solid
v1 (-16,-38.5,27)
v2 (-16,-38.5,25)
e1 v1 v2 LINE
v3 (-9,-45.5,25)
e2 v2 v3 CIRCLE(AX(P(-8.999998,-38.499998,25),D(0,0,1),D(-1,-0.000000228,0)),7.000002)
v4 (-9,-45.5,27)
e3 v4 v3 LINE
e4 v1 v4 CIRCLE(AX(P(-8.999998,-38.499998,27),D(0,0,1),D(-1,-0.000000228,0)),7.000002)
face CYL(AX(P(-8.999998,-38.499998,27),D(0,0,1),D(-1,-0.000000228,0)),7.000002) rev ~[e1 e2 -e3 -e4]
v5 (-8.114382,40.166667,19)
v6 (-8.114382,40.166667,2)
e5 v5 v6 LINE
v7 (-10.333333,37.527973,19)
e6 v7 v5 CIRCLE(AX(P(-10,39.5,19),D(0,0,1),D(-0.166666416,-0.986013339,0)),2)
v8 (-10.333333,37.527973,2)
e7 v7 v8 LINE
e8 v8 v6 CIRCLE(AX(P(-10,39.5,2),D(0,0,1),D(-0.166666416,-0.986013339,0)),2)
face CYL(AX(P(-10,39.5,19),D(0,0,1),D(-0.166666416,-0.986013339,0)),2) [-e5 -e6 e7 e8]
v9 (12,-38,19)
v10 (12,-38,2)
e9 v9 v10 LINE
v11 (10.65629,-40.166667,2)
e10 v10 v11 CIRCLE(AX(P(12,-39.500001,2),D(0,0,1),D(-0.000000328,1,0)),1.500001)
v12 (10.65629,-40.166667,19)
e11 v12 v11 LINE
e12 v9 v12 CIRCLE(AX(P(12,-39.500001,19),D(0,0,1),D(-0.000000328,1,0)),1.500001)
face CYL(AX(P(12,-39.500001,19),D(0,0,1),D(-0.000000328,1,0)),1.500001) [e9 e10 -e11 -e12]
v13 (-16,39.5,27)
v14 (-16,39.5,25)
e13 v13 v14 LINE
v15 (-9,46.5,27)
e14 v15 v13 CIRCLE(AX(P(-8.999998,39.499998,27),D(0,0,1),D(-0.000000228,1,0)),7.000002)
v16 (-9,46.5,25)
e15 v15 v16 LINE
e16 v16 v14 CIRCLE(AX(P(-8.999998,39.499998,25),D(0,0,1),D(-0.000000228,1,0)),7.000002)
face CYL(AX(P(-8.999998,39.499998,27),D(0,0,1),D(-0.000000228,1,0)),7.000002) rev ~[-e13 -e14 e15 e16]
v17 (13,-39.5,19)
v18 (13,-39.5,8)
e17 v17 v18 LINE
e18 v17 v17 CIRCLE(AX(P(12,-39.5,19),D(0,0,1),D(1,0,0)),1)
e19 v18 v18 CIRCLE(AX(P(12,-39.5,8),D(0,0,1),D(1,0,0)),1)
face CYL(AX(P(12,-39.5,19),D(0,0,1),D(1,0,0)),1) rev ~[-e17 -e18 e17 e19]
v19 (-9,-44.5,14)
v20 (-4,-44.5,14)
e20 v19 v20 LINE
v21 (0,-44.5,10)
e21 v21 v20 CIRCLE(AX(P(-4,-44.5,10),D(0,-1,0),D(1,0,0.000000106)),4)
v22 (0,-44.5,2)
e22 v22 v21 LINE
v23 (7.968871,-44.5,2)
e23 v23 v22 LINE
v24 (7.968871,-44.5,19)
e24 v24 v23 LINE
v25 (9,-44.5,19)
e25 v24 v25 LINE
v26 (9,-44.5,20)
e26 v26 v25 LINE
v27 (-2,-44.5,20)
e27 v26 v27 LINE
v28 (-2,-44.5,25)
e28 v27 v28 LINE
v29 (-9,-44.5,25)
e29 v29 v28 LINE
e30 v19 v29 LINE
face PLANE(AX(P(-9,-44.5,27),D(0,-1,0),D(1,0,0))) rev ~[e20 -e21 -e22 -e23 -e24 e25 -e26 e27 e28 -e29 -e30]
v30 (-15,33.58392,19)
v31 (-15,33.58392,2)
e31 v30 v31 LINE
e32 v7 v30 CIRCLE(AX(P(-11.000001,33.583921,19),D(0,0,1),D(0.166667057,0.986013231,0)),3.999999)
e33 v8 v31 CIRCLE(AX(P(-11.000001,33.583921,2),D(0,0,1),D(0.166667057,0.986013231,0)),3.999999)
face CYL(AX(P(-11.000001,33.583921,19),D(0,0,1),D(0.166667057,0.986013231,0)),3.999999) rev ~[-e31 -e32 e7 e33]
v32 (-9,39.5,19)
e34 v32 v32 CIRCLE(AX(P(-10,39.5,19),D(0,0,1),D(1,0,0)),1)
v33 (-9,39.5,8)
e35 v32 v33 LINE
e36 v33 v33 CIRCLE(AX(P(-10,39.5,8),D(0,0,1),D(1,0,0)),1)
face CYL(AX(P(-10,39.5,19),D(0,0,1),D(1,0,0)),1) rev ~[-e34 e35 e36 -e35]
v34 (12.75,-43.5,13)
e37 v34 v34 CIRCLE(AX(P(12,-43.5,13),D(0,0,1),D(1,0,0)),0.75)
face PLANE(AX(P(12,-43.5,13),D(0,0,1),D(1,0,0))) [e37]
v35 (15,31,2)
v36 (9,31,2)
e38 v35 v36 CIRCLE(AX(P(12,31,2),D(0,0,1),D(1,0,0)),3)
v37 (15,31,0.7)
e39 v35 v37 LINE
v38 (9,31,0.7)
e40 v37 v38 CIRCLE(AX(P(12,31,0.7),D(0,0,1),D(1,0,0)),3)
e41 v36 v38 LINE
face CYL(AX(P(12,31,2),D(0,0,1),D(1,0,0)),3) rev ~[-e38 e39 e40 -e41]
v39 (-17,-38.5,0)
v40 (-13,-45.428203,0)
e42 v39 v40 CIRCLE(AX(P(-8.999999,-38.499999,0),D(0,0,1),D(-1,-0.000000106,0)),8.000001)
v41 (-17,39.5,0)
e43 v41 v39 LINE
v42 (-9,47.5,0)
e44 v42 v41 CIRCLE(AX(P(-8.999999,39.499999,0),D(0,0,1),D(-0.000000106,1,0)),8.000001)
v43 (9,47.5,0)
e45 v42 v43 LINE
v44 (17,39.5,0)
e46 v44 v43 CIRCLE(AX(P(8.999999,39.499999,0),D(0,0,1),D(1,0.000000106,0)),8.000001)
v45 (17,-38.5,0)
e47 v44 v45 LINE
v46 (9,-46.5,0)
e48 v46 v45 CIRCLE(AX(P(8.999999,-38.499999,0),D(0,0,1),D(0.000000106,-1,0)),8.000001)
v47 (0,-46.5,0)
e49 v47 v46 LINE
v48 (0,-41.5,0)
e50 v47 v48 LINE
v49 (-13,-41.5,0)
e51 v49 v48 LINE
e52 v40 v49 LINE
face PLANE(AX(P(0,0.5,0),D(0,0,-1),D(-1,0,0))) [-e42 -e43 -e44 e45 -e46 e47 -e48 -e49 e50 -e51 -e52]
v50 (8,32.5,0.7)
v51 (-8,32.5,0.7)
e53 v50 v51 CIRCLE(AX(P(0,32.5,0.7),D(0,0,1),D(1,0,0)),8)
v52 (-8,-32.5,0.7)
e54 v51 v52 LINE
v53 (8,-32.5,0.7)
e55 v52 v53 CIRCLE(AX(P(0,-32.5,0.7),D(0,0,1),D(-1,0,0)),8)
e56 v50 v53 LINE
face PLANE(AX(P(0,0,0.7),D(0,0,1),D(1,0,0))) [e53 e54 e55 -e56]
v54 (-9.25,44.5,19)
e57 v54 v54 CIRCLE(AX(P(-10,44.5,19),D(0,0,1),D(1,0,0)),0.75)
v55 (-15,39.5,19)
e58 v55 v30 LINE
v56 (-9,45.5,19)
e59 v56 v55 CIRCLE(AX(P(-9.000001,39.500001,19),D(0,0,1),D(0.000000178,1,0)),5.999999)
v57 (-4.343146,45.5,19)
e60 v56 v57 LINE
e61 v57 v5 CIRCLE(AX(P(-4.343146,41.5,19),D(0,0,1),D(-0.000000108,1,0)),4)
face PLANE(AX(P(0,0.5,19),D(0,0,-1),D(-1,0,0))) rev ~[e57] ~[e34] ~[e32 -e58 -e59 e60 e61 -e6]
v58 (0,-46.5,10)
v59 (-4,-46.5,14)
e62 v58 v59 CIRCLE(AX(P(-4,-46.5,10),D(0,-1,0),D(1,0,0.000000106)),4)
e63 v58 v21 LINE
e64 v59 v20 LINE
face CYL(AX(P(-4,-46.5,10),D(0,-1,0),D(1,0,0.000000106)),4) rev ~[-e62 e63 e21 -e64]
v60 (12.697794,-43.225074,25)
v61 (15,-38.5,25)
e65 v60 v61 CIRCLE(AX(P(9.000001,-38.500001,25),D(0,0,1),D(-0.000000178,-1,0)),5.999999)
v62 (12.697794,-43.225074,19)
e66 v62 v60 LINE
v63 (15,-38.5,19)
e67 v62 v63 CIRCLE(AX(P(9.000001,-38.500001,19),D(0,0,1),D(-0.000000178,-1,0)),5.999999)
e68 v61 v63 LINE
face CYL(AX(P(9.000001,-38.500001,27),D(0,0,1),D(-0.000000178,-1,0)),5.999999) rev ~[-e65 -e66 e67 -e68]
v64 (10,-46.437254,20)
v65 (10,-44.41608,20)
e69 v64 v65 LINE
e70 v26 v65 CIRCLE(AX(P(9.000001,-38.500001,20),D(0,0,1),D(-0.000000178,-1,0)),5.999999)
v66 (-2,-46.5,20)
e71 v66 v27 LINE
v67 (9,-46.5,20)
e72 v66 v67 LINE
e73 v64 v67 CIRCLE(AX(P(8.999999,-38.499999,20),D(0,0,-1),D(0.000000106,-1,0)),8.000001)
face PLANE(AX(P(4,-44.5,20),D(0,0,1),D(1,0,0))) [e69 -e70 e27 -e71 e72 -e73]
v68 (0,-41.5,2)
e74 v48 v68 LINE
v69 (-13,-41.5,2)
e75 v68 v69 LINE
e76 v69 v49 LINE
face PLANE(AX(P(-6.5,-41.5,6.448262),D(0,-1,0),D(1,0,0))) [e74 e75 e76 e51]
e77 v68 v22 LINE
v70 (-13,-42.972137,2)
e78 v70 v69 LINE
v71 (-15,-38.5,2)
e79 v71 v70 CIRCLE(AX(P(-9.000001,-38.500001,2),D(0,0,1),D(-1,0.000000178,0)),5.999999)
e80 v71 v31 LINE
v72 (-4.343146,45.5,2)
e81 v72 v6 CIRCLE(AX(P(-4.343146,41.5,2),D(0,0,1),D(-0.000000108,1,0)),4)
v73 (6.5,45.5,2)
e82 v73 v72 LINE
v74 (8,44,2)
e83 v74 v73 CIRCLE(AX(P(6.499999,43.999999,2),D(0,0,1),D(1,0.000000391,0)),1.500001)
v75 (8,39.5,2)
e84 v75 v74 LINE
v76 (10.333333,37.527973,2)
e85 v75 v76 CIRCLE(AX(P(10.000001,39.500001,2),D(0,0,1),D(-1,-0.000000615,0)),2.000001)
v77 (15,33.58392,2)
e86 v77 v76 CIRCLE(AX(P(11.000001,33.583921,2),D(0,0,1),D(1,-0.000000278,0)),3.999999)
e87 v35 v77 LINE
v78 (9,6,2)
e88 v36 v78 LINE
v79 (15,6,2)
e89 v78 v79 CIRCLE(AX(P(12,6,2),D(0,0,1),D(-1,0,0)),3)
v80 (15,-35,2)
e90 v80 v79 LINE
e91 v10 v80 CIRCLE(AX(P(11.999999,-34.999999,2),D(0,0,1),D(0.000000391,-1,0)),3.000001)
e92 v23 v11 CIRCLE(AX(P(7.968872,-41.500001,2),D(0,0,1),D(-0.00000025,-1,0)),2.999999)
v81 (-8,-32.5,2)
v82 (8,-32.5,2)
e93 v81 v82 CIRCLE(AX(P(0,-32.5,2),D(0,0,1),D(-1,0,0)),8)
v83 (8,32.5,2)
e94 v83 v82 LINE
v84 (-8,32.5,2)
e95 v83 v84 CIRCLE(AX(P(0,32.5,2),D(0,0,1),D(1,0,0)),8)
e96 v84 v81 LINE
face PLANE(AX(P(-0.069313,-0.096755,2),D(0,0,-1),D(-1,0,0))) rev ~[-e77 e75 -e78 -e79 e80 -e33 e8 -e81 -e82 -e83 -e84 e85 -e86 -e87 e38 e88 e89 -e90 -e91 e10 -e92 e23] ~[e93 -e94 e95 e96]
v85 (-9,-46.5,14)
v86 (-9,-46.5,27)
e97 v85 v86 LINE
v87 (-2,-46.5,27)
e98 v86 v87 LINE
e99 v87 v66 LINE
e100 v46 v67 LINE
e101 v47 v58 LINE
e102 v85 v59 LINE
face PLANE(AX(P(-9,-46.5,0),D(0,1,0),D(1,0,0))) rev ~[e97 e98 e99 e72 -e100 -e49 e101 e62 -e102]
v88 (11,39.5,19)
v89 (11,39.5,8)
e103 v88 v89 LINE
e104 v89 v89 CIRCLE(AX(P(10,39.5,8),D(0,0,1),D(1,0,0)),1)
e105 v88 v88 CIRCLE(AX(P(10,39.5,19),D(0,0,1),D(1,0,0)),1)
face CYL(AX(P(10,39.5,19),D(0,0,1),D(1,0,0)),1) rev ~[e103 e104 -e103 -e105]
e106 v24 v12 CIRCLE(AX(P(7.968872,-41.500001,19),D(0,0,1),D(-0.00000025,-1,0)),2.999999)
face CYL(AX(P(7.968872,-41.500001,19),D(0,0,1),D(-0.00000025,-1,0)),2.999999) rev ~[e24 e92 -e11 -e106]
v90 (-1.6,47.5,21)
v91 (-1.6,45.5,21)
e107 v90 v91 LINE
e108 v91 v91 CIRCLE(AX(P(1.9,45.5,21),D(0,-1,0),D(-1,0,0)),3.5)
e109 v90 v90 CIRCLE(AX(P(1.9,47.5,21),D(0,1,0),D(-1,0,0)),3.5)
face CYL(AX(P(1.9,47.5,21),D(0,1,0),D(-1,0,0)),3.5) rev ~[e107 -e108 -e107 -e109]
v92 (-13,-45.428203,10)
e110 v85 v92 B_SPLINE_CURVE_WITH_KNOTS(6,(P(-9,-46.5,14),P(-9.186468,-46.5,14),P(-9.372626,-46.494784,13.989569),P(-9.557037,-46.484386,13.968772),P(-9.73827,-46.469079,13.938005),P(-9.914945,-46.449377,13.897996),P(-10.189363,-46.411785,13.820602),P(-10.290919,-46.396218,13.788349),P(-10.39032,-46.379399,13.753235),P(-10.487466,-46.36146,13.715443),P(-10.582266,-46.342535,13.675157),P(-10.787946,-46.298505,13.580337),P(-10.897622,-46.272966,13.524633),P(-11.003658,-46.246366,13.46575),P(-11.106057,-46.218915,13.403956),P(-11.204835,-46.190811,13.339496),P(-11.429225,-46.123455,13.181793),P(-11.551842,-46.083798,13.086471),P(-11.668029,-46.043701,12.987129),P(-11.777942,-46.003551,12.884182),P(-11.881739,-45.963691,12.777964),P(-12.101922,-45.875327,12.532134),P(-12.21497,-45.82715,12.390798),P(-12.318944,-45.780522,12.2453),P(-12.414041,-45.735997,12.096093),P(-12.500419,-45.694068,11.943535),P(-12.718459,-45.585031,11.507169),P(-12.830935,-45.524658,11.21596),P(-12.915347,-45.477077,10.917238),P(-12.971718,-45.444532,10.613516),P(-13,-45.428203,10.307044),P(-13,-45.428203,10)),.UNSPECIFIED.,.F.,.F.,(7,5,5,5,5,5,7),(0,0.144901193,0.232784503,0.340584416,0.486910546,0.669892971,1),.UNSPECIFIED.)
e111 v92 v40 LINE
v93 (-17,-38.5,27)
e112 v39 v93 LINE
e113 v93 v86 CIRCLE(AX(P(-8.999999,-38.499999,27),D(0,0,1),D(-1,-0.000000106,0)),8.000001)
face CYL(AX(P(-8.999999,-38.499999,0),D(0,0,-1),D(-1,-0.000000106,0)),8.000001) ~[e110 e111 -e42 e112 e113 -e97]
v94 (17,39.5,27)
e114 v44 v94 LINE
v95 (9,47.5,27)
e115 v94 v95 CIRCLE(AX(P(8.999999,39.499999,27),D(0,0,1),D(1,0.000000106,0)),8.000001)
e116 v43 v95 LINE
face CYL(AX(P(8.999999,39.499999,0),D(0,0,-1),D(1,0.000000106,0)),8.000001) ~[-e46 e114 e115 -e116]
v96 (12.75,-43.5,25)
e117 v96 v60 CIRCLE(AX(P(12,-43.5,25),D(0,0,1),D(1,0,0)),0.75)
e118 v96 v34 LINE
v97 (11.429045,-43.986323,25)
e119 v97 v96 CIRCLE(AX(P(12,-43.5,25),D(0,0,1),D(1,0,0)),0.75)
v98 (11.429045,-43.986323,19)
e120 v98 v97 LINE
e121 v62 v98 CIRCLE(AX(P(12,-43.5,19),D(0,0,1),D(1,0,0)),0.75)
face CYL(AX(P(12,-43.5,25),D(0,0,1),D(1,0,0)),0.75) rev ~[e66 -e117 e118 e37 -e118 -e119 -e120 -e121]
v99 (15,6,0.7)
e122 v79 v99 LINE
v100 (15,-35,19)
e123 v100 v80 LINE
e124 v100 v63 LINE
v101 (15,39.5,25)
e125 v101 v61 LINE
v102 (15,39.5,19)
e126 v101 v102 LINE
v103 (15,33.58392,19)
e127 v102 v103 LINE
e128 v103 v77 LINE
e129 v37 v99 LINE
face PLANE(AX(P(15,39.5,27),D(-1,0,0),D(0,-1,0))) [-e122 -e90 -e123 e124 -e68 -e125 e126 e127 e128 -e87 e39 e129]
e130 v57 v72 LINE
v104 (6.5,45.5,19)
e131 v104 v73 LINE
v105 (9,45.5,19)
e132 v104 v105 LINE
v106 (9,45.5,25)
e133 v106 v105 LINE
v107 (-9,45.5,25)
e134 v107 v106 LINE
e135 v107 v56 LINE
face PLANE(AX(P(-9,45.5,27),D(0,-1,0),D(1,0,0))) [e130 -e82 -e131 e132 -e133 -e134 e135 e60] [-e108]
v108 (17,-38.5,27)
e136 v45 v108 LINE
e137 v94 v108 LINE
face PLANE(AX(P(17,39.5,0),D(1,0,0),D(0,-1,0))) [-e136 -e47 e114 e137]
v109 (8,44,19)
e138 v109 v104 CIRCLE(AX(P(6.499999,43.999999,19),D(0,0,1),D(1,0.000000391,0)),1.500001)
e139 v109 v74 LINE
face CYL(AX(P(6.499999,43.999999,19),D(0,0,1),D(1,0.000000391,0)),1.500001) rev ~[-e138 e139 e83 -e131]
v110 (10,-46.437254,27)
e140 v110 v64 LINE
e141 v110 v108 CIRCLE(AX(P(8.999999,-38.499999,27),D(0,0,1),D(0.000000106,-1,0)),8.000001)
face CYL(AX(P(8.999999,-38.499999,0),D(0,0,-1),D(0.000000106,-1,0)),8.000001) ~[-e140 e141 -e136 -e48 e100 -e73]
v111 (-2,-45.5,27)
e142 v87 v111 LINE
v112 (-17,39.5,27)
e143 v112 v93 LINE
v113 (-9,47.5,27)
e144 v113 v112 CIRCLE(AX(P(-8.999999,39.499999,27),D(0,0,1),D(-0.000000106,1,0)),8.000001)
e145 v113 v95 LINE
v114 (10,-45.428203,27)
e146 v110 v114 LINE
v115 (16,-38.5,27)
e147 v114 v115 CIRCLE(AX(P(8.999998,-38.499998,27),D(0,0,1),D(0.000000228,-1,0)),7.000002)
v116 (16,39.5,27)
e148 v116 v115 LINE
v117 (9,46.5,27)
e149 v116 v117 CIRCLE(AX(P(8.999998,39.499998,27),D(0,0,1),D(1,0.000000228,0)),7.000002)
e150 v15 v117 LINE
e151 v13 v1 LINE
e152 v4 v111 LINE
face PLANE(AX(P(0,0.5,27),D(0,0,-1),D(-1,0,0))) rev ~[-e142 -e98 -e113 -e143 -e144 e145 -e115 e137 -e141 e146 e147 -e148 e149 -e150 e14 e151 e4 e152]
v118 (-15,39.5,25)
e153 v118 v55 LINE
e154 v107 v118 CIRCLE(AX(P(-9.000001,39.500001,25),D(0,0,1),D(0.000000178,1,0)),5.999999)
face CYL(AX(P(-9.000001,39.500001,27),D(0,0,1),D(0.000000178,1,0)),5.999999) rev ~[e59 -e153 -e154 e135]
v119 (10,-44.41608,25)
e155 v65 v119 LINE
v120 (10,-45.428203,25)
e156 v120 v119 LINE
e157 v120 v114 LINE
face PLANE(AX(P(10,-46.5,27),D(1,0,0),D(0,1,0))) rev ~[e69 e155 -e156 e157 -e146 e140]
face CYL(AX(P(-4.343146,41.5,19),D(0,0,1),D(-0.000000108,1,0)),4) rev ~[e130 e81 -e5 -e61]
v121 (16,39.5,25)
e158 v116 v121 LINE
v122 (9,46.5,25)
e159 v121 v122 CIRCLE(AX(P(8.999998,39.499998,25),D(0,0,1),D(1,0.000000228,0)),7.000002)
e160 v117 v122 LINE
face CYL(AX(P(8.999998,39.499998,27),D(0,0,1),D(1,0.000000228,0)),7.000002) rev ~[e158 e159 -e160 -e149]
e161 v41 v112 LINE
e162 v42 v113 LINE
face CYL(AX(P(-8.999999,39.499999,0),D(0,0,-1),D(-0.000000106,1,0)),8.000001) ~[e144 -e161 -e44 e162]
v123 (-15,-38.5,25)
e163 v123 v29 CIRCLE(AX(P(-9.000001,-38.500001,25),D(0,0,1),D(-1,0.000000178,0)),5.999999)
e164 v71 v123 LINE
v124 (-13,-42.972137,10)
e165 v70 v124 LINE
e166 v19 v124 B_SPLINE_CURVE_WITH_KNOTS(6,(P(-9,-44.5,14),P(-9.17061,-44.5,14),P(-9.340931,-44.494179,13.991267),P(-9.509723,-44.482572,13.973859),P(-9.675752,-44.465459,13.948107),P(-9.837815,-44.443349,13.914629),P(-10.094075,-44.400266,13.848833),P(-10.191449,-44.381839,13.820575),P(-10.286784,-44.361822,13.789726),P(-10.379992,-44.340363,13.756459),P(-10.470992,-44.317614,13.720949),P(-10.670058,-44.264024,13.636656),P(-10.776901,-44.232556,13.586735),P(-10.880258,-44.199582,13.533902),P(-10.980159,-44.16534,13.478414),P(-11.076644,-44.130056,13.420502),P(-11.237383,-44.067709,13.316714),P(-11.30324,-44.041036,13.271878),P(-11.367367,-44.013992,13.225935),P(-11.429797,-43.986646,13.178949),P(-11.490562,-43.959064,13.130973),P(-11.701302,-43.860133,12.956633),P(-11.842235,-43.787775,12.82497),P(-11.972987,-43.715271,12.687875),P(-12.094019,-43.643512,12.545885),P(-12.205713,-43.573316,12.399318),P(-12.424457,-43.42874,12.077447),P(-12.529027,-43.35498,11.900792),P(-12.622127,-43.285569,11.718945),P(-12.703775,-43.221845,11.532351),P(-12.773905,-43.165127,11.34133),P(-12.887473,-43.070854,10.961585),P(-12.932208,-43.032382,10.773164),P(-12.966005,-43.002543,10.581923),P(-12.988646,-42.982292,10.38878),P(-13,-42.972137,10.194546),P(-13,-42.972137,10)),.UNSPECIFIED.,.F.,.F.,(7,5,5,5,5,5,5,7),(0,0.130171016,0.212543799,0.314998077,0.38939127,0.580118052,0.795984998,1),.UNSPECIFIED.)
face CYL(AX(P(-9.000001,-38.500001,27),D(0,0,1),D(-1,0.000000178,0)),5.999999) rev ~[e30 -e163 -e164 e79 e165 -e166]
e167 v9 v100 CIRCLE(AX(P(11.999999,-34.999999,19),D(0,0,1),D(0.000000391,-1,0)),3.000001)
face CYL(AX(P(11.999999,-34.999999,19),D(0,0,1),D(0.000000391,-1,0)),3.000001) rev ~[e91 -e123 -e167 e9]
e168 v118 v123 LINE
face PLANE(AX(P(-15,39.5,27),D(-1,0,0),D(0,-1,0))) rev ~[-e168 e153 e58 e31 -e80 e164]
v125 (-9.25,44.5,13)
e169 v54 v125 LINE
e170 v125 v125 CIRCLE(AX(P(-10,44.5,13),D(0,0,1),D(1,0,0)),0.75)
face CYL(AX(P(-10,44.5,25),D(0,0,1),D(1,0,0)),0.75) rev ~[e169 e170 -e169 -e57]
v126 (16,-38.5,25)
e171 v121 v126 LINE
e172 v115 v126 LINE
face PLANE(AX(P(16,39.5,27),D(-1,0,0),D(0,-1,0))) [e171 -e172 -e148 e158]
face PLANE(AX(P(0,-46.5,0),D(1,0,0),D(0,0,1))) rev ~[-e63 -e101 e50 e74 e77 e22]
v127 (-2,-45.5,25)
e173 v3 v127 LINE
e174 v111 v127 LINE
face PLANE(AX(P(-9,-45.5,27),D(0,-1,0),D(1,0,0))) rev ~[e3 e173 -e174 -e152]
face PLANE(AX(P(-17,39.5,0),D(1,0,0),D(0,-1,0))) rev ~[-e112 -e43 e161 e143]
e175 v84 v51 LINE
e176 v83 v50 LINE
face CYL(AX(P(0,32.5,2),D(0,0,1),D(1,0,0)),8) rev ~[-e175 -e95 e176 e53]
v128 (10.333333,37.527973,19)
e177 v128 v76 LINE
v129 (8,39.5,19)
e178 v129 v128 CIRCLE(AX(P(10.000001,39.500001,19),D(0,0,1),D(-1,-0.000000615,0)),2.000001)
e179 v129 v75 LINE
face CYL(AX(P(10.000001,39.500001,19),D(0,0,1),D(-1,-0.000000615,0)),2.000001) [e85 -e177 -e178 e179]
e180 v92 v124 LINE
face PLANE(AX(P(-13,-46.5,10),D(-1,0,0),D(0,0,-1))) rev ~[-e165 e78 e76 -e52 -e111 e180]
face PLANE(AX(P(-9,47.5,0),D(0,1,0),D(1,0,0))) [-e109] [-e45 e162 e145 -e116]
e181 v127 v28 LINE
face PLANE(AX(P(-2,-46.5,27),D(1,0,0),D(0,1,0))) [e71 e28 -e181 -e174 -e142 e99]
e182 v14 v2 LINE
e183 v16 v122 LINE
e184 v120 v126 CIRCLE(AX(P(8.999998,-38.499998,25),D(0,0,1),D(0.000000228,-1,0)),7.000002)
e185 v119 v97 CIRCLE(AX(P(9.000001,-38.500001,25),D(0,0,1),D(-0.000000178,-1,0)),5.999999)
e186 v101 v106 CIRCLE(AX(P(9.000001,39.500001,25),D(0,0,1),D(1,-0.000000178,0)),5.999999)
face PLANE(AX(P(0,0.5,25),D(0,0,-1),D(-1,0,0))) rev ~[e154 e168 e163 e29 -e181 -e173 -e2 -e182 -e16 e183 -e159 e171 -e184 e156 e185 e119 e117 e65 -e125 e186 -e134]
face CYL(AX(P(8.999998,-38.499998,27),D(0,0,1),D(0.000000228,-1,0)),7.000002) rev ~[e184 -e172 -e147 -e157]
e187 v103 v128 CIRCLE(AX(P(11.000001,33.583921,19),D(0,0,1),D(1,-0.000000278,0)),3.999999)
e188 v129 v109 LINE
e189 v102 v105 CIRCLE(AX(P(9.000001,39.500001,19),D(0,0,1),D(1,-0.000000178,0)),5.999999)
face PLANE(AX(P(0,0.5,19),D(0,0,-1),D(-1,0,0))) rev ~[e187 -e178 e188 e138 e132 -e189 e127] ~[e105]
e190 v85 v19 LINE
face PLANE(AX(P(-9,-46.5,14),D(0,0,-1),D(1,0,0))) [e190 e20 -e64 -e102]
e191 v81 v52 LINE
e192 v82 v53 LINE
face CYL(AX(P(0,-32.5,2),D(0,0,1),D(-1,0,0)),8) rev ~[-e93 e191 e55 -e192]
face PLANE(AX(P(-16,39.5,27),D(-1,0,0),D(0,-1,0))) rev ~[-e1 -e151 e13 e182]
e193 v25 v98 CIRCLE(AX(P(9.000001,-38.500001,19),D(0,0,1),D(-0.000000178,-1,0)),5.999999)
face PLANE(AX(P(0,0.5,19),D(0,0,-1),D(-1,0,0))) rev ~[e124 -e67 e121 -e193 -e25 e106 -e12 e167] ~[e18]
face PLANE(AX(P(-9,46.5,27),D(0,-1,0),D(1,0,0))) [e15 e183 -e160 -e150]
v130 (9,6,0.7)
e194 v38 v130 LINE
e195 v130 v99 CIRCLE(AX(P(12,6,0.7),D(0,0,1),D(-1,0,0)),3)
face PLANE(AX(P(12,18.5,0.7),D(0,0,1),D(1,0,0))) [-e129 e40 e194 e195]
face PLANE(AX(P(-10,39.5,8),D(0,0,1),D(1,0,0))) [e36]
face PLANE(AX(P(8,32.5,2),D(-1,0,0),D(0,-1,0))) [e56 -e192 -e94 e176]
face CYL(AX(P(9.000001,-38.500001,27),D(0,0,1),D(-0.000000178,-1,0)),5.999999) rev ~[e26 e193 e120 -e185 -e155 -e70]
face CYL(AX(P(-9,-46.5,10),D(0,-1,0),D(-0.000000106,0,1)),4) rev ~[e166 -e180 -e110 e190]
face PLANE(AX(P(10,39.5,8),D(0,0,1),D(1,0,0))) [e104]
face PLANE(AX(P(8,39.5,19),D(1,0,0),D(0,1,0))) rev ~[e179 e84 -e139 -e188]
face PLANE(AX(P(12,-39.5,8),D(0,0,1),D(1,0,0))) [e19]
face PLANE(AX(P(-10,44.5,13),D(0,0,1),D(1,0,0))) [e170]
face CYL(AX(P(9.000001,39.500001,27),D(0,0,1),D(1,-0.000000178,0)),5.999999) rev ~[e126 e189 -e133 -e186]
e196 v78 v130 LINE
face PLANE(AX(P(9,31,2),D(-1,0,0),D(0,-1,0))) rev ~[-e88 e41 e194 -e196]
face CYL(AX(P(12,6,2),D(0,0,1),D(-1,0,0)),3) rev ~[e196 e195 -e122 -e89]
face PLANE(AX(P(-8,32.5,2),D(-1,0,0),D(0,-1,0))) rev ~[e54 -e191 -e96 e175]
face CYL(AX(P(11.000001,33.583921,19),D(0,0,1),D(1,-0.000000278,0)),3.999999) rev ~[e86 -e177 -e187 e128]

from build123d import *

# Parameters (mm, degrees)
PAD_DEPTH       = 27
POCKET_DEPTH    = 8
SKETCH002_R     = 3.5
POCKET001_DEPTH = 5
POCKET002_DEPTH = 17
SKETCH004_R     = 1
POCKET003_DEPTH = 11
SKETCH005_W     = 12
SKETCH005_H     = 4
POCKET004_DEPTH = 7
POCKET005_DEPTH = 1.3
POCKET006_DEPTH = 2
SKETCH011_R     = 0.75
POCKET008_DEPTH = 12
POCKET009_DEPTH = 5


with BuildPart() as part:
    # Sketch → Pad (new body)
    with BuildSketch(Plane.XY):
        with BuildLine():
            Line((-9, 47.5), (9, 47.5))
            ThreePointArc((17, 39.5), (14.656854, 45.156854), (9, 47.5))
            Line((17, 39.5), (17, -38.5))
            ThreePointArc((9, -46.5), (14.656854, -44.156854), (17, -38.5))
            Line((-9, -46.5), (9, -46.5))
            ThreePointArc((-17, -38.5), (-14.656854, -44.156854), (-9, -46.5))
            Line((-17, 39.5), (-17, -38.5))
            ThreePointArc((-9, 47.5), (-14.656854, 45.156854), (-17, 39.5))
        make_face()
    extrude(amount=PAD_DEPTH)

    # Sketch001 (on Face10 of Pad) → Pocket (cut)
    with BuildSketch(Plane.XY.offset(27)):
        with BuildLine():
            Line((-9, 45.5), (9, 45.5))
            ThreePointArc((15, 39.5), (13.242641, 43.742641), (9, 45.5))
            Line((15, 39.5), (15, -38.5))
            ThreePointArc((9, -44.5), (13.242641, -42.742641), (15, -38.5))
            Line((-9, -44.5), (9, -44.5))
            ThreePointArc((-15, -38.5), (-13.242641, -42.742641), (-9, -44.5))
            Line((-15, 39.5), (-15, -38.5))
            ThreePointArc((-9, 45.5), (-13.242641, 43.742641), (-15, 39.5))
        make_face()
    extrude(amount=-POCKET_DEPTH, mode=Mode.SUBTRACT)

    # Sketch002 (on Face2 of Pocket) → Pocket001 (cut)
    with BuildSketch(Plane(origin=(0, 47.5, 0), x_dir=(-1, 0, 0), z_dir=(0, 1, 0))):
        with Locations((-1.9, 21)):
            Circle(SKETCH002_R)
    extrude(amount=-POCKET001_DEPTH, mode=Mode.SUBTRACT)

    # Sketch003 (on Face20 of Pocket001) → Pocket002 (cut)
    with BuildSketch(Plane.XY.offset(19)):
        with BuildLine():
            ThreePointArc((8, 39.5), (8.709006, 37.972475), (10.333333, 37.527973))
            ThreePointArc((15, 33.58392), (13.581989, 36.638971), (10.333333, 37.527973))
            Line((15, -35), (15, 33.58392))
            ThreePointArc((12, -38), (14.12132, -37.12132), (15, -35))
            ThreePointArc((12, -38), (10.725245, -38.709431), (10.65629, -40.166667))
            ThreePointArc((7.968871, -44.5), (10.518381, -43.081139), (10.65629, -40.166667))
            Line((7.968871, -44.5), (-9, -44.5))
            ThreePointArc((-15, -38.5), (-13.242641, -42.742641), (-9, -44.5))
            Line((-15, -38.5), (-15, 33.58392))
            ThreePointArc((-10.333333, 37.527973), (-13.581989, 36.638971), (-15, 33.58392))
            ThreePointArc((-10.333333, 37.527973), (-8.46929, 38.212783), (-8.114382, 40.166667))
            ThreePointArc((-4.343146, 45.5), (-7.609132, 43.809401), (-8.114382, 40.166667))
            Line((6.5, 45.5), (-4.343146, 45.5))
            ThreePointArc((8, 44), (7.56066, 45.06066), (6.5, 45.5))
            Line((8, 39.5), (8, 44))
        make_face()
    extrude(amount=-POCKET002_DEPTH, mode=Mode.SUBTRACT)

    # Sketch004 (on Face15 of Pocket002) → Pocket003 (cut)
    with BuildSketch(Plane.XY.offset(19)):
        with Locations((-10, 39.5)):
            Circle(SKETCH004_R)
        with Locations((10, 39.5)):
            Circle(SKETCH004_R)
        with Locations((12, -39.5)):
            Circle(SKETCH004_R)
    extrude(amount=-POCKET003_DEPTH, mode=Mode.SUBTRACT)

    # Sketch005 (on Face5 of Pocket003) → Pocket004 (cut)
    with BuildSketch(Plane.XY.offset(27)):
        with Locations((4, -44.5)):
            Rectangle(SKETCH005_W, SKETCH005_H)
    extrude(amount=-POCKET004_DEPTH, mode=Mode.SUBTRACT)

    # Sketch007 (on Face26 of Pocket004) → Pocket005 (cut)
    with BuildSketch(Plane.XY.offset(2)):
        with BuildLine():
            ThreePointArc((8, 32.5), (0, 40.5), (-8, 32.5))
            Line((-8, 32.5), (-8, -32.5))
            ThreePointArc((-8, -32.5), (0, -40.5), (8, -32.5))
            Line((8, 32.5), (8, -32.5))
        make_face()
        with BuildLine():
            ThreePointArc((15, 31), (12, 34), (9, 31))
            Line((9, 31), (9, 6))
            ThreePointArc((9, 6), (12, 3), (15, 6))
            Line((15, 31), (15, 6))
        make_face()
    extrude(amount=-POCKET005_DEPTH, mode=Mode.SUBTRACT)

    # Sketch008 (on Face5 of Pocket005) → Pocket006 (cut)
    with BuildSketch(Plane.XY.offset(27)):
        with BuildLine():
            Line((-9, 46.5), (9, 46.5))
            ThreePointArc((16, 39.5), (13.949747, 44.449747), (9, 46.5))
            Line((16, 39.5), (16, -38.5))
            ThreePointArc((9, -45.5), (13.949747, -43.449747), (16, -38.5))
            Line((-9, -45.5), (9, -45.5))
            ThreePointArc((-16, -38.5), (-13.949747, -43.449747), (-9, -45.5))
            Line((-16, 39.5), (-16, -38.5))
            ThreePointArc((-9, 46.5), (-13.949747, 44.449747), (-16, 39.5))
        make_face()
    extrude(amount=-POCKET006_DEPTH, mode=Mode.SUBTRACT)

    # Sketch011 (on Face24 of Pocket006) → Pocket008 (cut)
    with BuildSketch(Plane.XY.offset(25)):
        with Locations((-10, 44.5)):
            Circle(SKETCH011_R)
        with Locations((12, -43.5)):
            Circle(SKETCH011_R)
    extrude(amount=-POCKET008_DEPTH, mode=Mode.SUBTRACT)

    # Sketch012 (on Face11 of Pocket008) → Pocket009 (cut)
    with BuildSketch(Plane.XZ.offset(46.5)):
        with BuildLine():
            Line((0, 0), (0, 10))
            ThreePointArc((0, 10), (-1.171573, 12.828427), (-4, 14))
            Line((-9, 14), (-4, 14))
            ThreePointArc((-9, 14), (-11.828427, 12.828427), (-13, 10))
            Line((-13, 10), (-13, 0))
            Line((-13, 0), (0, 0))
        make_face()
    extrude(amount=-POCKET009_DEPTH, mode=Mode.SUBTRACT)


solid = part.part
